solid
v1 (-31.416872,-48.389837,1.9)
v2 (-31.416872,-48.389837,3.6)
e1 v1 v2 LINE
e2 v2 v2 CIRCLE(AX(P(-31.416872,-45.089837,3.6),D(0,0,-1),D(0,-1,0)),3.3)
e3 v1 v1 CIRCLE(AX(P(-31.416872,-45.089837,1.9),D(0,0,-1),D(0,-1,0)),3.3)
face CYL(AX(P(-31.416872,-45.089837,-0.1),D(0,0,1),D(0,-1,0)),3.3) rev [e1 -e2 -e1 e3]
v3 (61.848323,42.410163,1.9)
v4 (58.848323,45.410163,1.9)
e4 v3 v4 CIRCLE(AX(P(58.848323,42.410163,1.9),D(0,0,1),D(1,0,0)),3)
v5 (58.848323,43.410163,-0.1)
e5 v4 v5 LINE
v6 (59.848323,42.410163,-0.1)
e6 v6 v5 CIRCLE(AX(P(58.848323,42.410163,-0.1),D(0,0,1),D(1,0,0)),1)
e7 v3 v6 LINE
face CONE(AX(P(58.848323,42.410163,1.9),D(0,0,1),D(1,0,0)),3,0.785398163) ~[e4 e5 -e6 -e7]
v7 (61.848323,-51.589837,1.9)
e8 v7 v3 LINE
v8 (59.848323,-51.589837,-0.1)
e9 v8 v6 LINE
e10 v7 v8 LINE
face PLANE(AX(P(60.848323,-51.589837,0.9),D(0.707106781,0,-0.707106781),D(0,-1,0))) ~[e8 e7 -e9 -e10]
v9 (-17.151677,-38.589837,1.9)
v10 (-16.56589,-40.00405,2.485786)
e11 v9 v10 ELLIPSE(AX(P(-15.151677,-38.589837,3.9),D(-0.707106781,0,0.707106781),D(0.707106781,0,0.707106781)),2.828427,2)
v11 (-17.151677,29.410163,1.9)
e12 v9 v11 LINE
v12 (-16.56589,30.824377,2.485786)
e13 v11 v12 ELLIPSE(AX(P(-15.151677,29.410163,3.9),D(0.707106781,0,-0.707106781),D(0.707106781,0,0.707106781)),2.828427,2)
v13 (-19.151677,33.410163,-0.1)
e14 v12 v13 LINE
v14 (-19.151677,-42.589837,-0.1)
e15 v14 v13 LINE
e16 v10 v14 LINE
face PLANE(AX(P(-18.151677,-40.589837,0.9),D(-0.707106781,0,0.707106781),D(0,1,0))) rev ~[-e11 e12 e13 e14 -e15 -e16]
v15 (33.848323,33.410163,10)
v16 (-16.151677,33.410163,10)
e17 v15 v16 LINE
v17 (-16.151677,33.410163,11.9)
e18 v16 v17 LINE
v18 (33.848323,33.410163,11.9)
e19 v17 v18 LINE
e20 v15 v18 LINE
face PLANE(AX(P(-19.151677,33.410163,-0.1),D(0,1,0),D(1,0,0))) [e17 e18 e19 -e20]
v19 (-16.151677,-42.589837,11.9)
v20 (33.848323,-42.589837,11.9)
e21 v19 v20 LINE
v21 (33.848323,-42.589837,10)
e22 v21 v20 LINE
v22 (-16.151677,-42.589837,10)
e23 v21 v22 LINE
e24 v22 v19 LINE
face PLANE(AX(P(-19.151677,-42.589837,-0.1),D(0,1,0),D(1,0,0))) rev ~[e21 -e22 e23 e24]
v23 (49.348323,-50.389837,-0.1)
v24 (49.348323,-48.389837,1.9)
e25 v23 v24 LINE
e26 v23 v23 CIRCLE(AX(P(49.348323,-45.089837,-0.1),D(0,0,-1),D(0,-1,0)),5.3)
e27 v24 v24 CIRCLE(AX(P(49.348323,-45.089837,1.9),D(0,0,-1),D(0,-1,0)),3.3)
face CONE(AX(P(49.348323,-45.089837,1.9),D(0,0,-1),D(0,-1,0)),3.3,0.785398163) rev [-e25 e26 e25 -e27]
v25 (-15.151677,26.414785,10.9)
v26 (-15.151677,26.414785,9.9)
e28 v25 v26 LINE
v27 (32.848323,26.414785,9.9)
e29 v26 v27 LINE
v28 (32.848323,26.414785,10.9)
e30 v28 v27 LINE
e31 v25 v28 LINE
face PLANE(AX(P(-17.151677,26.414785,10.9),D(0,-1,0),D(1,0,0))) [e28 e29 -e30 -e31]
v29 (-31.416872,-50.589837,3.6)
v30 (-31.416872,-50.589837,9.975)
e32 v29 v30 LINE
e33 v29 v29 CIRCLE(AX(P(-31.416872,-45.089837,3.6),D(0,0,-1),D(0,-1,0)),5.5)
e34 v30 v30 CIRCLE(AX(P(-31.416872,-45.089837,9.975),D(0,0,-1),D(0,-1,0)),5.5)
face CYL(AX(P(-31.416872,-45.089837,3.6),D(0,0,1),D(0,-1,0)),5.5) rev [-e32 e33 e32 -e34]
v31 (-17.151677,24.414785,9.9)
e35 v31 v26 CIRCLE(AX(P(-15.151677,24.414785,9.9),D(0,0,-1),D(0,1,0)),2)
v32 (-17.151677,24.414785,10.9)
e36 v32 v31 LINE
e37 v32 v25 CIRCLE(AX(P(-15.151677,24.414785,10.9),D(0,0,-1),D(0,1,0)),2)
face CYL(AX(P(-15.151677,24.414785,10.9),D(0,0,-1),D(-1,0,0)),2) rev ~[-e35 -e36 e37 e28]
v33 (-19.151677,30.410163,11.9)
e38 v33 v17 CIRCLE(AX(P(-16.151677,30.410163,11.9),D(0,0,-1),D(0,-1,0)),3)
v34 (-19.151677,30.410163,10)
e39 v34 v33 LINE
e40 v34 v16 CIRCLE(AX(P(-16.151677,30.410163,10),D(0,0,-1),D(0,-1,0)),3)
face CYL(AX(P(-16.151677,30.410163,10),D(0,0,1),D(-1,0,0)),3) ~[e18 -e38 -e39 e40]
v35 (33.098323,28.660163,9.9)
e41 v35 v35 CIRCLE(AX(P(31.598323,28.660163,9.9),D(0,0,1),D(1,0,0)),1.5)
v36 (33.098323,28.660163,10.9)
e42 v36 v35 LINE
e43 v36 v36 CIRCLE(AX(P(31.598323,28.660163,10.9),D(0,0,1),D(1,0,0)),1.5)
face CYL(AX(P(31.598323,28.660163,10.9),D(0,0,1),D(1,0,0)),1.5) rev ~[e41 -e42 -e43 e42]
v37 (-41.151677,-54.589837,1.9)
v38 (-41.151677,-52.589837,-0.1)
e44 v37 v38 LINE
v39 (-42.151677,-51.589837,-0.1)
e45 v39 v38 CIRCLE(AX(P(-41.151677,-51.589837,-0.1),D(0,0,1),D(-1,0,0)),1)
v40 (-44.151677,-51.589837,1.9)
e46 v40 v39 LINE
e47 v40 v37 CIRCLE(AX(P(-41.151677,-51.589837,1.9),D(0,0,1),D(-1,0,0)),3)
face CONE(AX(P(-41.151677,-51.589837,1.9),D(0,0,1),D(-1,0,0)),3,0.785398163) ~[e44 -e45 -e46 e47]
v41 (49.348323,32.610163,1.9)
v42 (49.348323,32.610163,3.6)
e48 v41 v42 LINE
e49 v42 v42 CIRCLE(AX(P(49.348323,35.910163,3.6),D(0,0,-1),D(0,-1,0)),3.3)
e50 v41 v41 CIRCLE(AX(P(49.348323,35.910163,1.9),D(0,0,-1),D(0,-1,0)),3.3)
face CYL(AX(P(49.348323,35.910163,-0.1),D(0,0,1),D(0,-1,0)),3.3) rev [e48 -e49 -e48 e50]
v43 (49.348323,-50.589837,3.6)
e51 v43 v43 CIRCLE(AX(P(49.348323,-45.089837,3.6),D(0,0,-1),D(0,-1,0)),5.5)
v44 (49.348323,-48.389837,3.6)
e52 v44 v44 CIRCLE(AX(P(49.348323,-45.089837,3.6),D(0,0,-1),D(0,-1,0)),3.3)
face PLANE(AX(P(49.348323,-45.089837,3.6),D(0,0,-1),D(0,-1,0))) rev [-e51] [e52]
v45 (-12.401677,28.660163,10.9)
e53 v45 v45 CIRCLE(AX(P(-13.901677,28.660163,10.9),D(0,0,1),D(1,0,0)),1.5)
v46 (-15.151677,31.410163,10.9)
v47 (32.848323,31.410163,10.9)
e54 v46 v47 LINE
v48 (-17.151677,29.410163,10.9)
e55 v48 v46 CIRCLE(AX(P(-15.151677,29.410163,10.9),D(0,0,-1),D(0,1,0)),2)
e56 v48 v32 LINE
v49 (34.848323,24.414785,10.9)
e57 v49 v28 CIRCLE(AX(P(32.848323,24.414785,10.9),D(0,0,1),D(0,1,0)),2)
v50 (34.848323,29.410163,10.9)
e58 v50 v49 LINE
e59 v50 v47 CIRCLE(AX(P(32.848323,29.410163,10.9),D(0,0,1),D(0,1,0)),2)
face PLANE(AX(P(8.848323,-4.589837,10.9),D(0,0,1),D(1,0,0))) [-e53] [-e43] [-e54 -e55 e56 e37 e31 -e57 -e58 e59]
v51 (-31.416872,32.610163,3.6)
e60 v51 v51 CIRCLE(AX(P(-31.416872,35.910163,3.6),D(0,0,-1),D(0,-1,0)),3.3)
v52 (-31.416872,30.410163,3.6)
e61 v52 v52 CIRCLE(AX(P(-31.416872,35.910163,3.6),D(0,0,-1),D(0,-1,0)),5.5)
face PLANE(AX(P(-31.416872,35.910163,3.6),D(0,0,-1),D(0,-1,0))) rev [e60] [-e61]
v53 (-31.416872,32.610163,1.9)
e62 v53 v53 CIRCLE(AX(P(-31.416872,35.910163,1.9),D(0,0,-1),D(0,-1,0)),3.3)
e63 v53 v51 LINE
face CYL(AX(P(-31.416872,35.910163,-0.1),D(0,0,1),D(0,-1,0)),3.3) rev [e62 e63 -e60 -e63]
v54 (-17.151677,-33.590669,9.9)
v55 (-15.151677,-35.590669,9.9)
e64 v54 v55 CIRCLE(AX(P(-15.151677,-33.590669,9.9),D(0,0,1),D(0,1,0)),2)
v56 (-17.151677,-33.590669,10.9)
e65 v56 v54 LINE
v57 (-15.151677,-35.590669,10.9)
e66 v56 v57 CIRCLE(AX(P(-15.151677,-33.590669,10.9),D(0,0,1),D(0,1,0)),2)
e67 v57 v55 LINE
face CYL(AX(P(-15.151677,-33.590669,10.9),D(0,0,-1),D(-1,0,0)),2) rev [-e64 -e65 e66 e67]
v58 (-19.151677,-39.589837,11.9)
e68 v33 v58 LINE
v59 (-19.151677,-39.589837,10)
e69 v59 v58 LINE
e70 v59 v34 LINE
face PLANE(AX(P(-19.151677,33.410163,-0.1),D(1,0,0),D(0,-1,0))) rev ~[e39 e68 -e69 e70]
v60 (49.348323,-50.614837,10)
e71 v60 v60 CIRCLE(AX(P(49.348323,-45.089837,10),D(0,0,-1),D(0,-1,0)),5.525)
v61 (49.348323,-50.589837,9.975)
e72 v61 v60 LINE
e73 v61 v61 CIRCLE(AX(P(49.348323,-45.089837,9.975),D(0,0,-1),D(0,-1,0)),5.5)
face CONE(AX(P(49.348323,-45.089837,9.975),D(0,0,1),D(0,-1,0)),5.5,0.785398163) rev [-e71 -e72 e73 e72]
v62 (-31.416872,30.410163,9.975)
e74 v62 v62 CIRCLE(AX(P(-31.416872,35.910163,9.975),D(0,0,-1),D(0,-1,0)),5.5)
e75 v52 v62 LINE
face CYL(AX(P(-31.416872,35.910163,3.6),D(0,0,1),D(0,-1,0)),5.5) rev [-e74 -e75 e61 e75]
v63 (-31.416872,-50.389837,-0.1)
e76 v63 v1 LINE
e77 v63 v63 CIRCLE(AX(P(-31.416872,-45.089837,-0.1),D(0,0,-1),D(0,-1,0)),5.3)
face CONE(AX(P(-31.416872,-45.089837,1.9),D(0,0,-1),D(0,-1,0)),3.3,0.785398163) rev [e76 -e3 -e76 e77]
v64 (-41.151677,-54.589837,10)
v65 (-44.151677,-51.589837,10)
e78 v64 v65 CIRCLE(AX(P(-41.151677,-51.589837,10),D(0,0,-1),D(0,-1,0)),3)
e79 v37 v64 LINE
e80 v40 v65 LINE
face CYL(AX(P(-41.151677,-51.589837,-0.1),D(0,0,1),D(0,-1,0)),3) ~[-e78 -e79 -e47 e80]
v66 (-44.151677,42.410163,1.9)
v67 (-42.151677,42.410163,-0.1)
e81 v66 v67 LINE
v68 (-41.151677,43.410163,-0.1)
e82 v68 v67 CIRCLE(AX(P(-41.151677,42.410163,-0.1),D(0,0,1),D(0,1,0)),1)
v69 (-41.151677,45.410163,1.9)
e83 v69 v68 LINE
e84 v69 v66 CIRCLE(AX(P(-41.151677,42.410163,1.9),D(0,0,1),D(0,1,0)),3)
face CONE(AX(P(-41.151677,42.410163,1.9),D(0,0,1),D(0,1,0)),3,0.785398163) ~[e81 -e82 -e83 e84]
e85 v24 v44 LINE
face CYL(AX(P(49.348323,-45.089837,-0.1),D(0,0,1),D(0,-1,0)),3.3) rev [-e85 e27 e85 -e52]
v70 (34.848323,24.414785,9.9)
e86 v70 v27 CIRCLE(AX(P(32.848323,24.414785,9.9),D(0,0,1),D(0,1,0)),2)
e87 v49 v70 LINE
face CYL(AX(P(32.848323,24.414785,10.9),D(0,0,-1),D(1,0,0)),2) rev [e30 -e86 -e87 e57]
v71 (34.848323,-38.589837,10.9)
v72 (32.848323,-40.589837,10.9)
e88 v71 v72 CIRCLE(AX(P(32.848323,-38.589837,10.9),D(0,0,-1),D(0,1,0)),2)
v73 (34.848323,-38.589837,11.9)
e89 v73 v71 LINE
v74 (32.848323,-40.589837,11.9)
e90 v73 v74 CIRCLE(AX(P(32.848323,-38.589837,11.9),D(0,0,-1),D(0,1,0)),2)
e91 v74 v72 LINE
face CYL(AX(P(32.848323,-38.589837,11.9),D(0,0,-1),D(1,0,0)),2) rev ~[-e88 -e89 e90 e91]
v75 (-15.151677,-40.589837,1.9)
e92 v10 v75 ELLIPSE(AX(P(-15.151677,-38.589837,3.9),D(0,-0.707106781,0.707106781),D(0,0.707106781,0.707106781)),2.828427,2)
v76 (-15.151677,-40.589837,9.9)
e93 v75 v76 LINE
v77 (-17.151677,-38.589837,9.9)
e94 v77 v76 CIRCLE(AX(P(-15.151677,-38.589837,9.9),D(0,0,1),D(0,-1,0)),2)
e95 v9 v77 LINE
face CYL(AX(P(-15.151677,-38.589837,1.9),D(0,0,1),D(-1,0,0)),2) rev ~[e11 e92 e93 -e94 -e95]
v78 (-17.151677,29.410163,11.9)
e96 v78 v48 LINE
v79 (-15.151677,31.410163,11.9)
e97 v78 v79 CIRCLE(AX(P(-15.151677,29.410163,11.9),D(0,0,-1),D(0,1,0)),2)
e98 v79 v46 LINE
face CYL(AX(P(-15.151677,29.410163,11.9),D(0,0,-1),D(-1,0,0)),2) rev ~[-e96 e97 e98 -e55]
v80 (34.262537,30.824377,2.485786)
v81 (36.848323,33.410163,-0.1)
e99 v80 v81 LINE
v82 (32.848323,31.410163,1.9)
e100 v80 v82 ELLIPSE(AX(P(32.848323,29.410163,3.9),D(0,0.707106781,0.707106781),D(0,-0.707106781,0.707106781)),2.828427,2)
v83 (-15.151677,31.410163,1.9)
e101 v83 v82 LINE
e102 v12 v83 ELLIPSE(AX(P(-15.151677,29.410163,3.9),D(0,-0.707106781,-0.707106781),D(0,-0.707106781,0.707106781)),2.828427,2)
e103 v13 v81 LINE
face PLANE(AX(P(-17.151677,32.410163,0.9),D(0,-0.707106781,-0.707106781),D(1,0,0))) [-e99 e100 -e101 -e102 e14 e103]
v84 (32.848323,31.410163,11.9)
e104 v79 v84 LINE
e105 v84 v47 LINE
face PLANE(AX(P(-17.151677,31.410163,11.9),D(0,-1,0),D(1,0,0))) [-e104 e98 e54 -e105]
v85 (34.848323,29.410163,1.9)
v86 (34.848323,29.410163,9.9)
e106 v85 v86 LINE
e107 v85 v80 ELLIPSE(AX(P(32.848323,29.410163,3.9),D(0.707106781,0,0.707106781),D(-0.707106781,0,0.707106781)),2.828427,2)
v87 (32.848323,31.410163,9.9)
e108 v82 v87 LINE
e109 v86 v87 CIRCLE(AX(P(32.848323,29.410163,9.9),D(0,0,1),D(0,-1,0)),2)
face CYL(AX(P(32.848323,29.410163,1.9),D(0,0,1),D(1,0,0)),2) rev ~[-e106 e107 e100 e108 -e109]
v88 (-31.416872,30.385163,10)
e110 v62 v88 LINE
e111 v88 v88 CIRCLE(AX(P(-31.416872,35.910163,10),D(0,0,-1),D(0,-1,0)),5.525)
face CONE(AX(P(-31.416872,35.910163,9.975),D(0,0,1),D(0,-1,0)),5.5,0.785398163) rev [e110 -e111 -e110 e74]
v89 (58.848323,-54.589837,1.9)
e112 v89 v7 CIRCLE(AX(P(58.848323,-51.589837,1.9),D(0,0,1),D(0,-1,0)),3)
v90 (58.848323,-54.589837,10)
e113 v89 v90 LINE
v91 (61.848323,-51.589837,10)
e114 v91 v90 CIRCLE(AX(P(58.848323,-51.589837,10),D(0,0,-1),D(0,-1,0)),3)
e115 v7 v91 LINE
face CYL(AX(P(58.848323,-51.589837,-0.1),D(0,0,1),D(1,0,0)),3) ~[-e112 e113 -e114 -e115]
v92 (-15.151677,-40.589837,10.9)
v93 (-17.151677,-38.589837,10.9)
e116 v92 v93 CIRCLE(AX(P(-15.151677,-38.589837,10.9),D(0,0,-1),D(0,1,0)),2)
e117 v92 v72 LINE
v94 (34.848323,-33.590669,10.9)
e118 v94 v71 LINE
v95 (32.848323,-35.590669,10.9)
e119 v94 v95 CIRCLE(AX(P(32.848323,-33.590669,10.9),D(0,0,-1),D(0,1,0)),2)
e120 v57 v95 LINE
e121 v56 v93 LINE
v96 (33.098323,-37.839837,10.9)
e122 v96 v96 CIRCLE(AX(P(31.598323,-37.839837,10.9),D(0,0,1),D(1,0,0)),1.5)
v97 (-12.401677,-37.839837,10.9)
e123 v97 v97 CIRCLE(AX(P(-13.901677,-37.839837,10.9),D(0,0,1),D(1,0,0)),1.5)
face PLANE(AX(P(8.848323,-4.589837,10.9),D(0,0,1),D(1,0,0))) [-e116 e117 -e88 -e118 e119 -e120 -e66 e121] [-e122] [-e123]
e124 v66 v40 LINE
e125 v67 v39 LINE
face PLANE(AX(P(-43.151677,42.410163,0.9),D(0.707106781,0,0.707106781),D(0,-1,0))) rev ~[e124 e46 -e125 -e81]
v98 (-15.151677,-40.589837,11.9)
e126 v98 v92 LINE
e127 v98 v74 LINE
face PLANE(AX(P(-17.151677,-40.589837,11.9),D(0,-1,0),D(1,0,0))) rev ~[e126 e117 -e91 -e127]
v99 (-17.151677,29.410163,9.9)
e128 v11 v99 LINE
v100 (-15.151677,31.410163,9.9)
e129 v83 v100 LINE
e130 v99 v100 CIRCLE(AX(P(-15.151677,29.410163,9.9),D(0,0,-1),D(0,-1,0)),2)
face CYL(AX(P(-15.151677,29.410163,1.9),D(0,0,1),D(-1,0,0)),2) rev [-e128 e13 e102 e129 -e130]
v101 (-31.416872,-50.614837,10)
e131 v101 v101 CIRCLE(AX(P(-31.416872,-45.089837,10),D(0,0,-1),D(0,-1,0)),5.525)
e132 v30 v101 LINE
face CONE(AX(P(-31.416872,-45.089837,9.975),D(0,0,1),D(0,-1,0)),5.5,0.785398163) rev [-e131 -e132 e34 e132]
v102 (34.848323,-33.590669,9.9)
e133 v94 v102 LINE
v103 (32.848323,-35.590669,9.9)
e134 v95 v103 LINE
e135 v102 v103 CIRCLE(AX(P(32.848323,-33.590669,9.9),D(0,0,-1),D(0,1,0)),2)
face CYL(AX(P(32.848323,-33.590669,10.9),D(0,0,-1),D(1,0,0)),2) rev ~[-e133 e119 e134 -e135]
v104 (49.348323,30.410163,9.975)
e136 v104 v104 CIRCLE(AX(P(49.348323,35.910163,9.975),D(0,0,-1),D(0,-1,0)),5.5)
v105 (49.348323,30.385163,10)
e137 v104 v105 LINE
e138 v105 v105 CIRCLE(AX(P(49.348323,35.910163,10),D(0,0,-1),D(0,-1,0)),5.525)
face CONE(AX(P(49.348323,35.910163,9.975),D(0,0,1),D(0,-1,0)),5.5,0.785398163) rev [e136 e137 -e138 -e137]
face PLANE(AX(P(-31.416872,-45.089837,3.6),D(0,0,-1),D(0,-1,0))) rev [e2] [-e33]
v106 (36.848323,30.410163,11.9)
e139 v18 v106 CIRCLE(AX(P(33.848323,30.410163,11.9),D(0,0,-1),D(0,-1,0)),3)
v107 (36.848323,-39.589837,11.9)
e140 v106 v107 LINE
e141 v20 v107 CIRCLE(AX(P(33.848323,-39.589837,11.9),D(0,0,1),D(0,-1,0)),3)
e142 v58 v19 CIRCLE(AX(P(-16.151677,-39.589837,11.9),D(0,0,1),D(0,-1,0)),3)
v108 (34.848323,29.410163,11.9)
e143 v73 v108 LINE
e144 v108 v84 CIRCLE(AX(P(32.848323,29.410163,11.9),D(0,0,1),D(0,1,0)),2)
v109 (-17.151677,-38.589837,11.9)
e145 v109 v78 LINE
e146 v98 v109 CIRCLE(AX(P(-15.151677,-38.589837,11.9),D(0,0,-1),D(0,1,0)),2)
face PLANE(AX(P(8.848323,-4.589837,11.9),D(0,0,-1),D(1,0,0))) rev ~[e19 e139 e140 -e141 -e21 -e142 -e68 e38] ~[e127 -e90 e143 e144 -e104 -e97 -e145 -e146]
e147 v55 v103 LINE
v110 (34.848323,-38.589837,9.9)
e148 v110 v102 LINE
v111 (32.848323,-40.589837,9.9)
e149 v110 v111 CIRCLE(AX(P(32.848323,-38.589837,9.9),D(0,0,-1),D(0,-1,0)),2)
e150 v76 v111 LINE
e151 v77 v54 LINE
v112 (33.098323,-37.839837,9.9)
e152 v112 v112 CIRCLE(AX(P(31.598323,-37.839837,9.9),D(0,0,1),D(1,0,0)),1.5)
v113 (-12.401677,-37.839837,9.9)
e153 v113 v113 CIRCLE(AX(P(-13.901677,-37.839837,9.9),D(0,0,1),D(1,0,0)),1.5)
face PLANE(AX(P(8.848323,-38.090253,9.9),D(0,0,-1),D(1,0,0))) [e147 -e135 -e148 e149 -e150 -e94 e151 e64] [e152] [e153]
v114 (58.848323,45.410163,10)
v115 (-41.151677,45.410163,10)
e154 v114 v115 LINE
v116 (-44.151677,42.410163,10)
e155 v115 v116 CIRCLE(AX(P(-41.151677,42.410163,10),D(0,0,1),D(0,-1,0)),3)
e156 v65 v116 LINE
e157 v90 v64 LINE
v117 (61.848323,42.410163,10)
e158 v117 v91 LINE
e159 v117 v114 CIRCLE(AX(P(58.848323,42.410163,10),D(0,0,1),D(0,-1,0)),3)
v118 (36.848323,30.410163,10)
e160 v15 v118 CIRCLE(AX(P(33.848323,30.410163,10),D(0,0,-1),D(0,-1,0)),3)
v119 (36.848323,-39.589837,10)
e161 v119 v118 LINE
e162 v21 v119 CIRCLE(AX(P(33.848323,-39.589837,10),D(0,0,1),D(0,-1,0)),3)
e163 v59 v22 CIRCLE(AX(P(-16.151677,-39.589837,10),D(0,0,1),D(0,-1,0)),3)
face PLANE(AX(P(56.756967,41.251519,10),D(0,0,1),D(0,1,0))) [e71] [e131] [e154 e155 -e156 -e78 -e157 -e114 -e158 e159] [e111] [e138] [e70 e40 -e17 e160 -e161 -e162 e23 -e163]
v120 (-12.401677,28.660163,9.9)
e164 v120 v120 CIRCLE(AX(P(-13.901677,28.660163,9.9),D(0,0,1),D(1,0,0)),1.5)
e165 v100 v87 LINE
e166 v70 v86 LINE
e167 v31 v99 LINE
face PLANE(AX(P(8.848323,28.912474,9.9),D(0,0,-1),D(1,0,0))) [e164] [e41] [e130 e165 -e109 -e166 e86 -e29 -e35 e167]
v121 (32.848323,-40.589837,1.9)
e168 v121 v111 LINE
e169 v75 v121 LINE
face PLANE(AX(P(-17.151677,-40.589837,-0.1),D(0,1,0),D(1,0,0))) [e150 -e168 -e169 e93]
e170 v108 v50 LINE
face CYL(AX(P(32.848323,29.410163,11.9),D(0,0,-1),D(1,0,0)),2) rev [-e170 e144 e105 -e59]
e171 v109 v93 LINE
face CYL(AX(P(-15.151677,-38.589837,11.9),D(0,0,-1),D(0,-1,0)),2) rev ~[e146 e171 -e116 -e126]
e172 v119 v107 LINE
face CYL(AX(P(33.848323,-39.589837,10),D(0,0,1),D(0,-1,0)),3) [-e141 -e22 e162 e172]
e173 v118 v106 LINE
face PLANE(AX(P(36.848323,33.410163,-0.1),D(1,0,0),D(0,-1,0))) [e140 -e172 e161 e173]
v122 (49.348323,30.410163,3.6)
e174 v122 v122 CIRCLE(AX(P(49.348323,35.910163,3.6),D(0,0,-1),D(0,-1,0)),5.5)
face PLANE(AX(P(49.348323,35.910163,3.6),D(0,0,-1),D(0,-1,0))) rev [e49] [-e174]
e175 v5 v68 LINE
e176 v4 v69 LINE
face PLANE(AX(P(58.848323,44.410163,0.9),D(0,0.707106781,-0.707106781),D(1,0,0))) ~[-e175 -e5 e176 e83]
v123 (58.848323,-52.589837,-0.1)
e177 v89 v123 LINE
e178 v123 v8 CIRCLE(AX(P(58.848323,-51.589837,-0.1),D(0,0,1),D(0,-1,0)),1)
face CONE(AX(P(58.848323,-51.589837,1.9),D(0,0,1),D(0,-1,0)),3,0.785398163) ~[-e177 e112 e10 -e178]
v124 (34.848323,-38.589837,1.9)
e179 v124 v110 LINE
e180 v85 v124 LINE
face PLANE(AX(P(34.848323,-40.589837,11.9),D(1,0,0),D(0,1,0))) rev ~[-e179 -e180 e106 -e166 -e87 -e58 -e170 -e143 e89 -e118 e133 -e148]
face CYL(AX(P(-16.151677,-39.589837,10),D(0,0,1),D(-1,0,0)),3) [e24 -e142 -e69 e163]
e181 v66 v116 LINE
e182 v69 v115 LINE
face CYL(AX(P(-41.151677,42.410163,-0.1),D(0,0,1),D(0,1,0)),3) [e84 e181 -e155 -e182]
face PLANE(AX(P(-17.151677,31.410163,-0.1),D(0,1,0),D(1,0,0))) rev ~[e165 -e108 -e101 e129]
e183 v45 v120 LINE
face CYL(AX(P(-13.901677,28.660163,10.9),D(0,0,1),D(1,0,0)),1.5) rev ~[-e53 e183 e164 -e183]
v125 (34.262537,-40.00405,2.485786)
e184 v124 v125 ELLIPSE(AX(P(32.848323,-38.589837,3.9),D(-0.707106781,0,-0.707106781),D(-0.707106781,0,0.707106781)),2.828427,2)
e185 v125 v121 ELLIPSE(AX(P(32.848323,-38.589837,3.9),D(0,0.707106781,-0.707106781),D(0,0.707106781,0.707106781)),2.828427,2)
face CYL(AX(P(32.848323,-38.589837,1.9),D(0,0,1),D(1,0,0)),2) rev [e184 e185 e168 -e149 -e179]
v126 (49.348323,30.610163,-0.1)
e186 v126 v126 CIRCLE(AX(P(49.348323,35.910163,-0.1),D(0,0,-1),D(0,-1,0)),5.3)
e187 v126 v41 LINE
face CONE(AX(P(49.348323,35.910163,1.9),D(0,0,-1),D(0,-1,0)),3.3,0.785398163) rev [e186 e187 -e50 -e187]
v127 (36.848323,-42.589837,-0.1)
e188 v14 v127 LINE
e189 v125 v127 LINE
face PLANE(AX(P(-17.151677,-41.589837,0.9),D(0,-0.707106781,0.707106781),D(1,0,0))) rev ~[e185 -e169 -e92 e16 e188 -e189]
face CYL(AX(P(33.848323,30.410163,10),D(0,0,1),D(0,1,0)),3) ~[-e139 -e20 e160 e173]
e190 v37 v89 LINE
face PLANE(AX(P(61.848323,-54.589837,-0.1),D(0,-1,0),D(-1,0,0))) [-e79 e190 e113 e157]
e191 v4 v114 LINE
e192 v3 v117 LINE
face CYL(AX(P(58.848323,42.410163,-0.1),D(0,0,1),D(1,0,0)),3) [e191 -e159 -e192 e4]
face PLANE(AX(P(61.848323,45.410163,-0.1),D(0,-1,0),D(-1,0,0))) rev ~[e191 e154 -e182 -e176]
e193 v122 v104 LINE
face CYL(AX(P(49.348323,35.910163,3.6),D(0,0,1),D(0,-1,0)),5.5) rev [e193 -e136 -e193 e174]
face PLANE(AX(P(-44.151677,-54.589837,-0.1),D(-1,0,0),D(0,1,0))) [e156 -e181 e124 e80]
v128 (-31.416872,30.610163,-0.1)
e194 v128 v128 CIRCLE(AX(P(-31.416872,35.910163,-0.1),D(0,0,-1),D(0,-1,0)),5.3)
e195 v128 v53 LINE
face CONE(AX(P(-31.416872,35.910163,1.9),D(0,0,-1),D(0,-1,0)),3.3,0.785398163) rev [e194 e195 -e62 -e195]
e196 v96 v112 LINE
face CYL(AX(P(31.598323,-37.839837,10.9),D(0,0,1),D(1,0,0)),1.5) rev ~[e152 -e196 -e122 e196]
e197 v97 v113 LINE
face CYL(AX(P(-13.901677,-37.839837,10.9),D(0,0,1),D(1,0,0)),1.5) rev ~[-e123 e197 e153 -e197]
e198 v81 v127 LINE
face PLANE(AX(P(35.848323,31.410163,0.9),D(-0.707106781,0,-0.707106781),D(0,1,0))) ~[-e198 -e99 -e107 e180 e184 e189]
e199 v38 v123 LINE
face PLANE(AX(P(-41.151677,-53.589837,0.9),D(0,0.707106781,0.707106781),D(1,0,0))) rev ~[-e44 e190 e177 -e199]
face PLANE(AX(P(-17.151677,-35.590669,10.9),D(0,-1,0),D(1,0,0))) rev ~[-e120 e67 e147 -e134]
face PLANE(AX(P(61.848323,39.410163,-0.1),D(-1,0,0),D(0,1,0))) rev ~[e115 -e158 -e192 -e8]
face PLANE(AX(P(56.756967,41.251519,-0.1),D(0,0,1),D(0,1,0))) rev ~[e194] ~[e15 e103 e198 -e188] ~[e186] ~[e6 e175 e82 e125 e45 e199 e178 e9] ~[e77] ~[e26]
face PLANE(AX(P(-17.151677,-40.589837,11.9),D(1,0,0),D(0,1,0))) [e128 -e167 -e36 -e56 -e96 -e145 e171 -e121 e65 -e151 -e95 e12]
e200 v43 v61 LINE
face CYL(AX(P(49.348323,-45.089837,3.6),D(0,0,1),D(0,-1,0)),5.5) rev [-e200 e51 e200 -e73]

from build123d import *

# Parameters (mm, degrees)
BOSS_EXTRUDE3_DEPTH                          = 10
BOSS_EXTRUDE3_DEPTH_BACK                     = 0.1
SKETCH1_W                                    = 100
SKETCH1_H                                    = 106
SKETCH1_W_2                                  = 76
SKETCH1_H_2                                  = 56
CBORE_FOR_M6_HEX_SOCKET_HEAD_CAP_SCR_2_COUNT = 2
CBORE_FOR_M6_HEX_SOCKET_HEAD_CAP_SCR_2_PITCH = 81
CBORE_FOR_M6_HEX_SOCKET_HEAD_CAP_SCR_3_COUNT = 2
CBORE_FOR_M6_HEX_SOCKET_HEAD_CAP_SCR_3_PITCH = 114.385386776
CBORE_FOR_M6_HEX_SOCKET_HEAD_CAP_SCR_4_COUNT = 2
CBORE_FOR_M6_HEX_SOCKET_HEAD_CAP_SCR_4_PITCH = 80.765194904
SKETCH7_W                                    = 56
SKETCH7_H                                    = 76
BOSS_EXTRUDE4_DEPTH                          = 12
SKETCH8_W                                    = 52
SKETCH8_H                                    = 72
BOSS_EXTRUDE5_DEPTH                          = 1
SKETCH9_W                                    = 52
SKETCH9_H                                    = 72
CUT_EXTRUDE1_DEPTH                           = 1
SKETCH10_W                                   = 52
SKETCH10_H                                   = 62.005454301
CUT_EXTRUDE2_DEPTH                           = 11
SKETCH11_W                                   = 52
SKETCH11_H                                   = 4.999168043
SKETCH11_H_2                                 = 4.995377656
CUT_EXTRUDE3_DEPTH                           = 10
SKETCH12_R                                   = 1.5
CUT_EXTRUDE4_DEPTH                           = 2
SKETCH12_3_R                                 = 1.5
CUT_EXTRUDE5_DEPTH                           = 2
SKETCH14_R                                   = 1.5
CUT_EXTRUDE6_DEPTH                           = 2
SKETCH15_R                                   = 1.5
CUT_EXTRUDE7_DEPTH                           = 2
FILLET2_R                                    = 3
CHAMFER1_SIZE                                = 2
FILLET3_R                                    = 2
FILLET4_R                                    = 2


with BuildPart() as part:
    # Sketch1 → Boss-Extrude3 (new, two sides: drawn at the far end of the back side and taken through both)
    with BuildSketch(Plane(origin=(0, 0, 0), x_dir=(0, 1, 0), z_dir=(0, 0, 1)).offset(-BOSS_EXTRUDE3_DEPTH_BACK)):
        with Locations((-4.589836902, -8.848323211)):
            Rectangle(SKETCH1_W, SKETCH1_H)
        with Locations((-4.589836902, -8.848323211)):
            Rectangle(SKETCH1_W_2, SKETCH1_H_2, mode=Mode.SUBTRACT)
    extrude(amount=BOSS_EXTRUDE3_DEPTH + BOSS_EXTRUDE3_DEPTH_BACK)

    # Sketch6 → CBORE for M6 Hex Socket Head Cap Screw2 (revolve, cut)
    with BuildSketch(Plane(origin=(49.348323211, -45.089836902, 10), x_dir=(0, -1, 0), z_dir=(1, 0, 0))):
        Polygon((0, 0), (0, 10.1), (3.3, 10.1), (3.3, 6.4), (5.5, 6.4), (5.5, 0.025), (5.525, 0), align=None)
    cbore_for_m6_hex_socket_head_cap_screw2 = revolve(axis=Axis((49.348323211, -45.089836902, 16.35), (0, 0, -1)), mode=Mode.SUBTRACT)

    # CBORE for M6 Hex Socket Head Cap Scr 2: CBORE for M6 Hex Socket Head Cap Screw2 ×2
    with Locations(*[(0, i * CBORE_FOR_M6_HEX_SOCKET_HEAD_CAP_SCR_2_PITCH, 0) for i in range(1, CBORE_FOR_M6_HEX_SOCKET_HEAD_CAP_SCR_2_COUNT)]):
        add(cbore_for_m6_hex_socket_head_cap_screw2, mode=Mode.SUBTRACT)

    # CBORE for M6 Hex Socket Head Cap Scr 3: CBORE for M6 Hex Socket Head Cap Screw2 ×2
    with Locations(*[Vector(-0.7060796591298035, 0.7081324134391396, 0) * (i * CBORE_FOR_M6_HEX_SOCKET_HEAD_CAP_SCR_3_PITCH) for i in range(1, CBORE_FOR_M6_HEX_SOCKET_HEAD_CAP_SCR_3_COUNT)]):
        add(cbore_for_m6_hex_socket_head_cap_screw2, mode=Mode.SUBTRACT)

    # CBORE for M6 Hex Socket Head Cap Scr 4: CBORE for M6 Hex Socket Head Cap Screw2 ×2
    with Locations(*[(-i * CBORE_FOR_M6_HEX_SOCKET_HEAD_CAP_SCR_4_PITCH, 0, 0) for i in range(1, CBORE_FOR_M6_HEX_SOCKET_HEAD_CAP_SCR_4_COUNT)]):
        add(cbore_for_m6_hex_socket_head_cap_screw2, mode=Mode.SUBTRACT)

    # Sketch7 → Boss-Extrude4 (add)
    with BuildSketch(Plane(origin=(0, 0, -0.1), x_dir=(1, 0, 0), z_dir=(0, 0, -1))):
        with Locations((8.848323211, 4.589836902)):
            Rectangle(SKETCH7_W, SKETCH7_H)
    extrude(amount=-BOSS_EXTRUDE4_DEPTH)

    # Sketch8 → Boss-Extrude5 (add)
    with BuildSketch(Plane.XY.offset(11.9)):
        with Locations((8.848323211, -4.589836902)):
            Rectangle(SKETCH8_W, SKETCH8_H)
    extrude(amount=-BOSS_EXTRUDE5_DEPTH)

    # Sketch9 → Cut-Extrude1 (cut)
    with BuildSketch(Plane.XY.offset(11.9)):
        with Locations((8.848323211, -4.589836902)):
            Rectangle(SKETCH9_W, SKETCH9_H)
    extrude(amount=-CUT_EXTRUDE1_DEPTH, mode=Mode.SUBTRACT)

    # Sketch10 → Cut-Extrude2 (cut)
    with BuildSketch(Plane.XY.offset(10.9)):
        with Locations((8.848323211, -4.587941709)):
            Rectangle(SKETCH10_W, SKETCH10_H)
    extrude(amount=-CUT_EXTRUDE2_DEPTH, mode=Mode.SUBTRACT)

    # Sketch11 → Cut-Extrude3 (cut)
    with BuildSketch(Plane(origin=(0, 0, -0.1), x_dir=(1, 0, 0), z_dir=(0, 0, -1))):
        with Locations((8.848323211, 38.090252881)):
            Rectangle(SKETCH11_W, SKETCH11_H)
        with Locations((8.848323211, -28.91247427)):
            Rectangle(SKETCH11_W, SKETCH11_H_2)
    extrude(amount=-CUT_EXTRUDE3_DEPTH, mode=Mode.SUBTRACT)

    # Sketch12 → Cut-Extrude4 (cut)
    with BuildSketch(Plane.XY.offset(10.9)):
        with Locations((-13.901676789, 28.660163098)):
            Circle(SKETCH12_R)
    extrude(amount=-CUT_EXTRUDE4_DEPTH, mode=Mode.SUBTRACT)

    # Sketch12<3> → Cut-Extrude5 (cut)
    with BuildSketch(Plane.XY.offset(10.9)):
        with Locations((31.598323211, 28.660163098)):
            Circle(SKETCH12_3_R)
    extrude(amount=-CUT_EXTRUDE5_DEPTH, mode=Mode.SUBTRACT)

    # Sketch14 → Cut-Extrude6 (cut)
    with BuildSketch(Plane.XY.offset(10.9)):
        with Locations((-13.901676789, -37.839836902)):
            Circle(SKETCH14_R)
    extrude(amount=-CUT_EXTRUDE6_DEPTH, mode=Mode.SUBTRACT)

    # Sketch15 → Cut-Extrude7 (cut)
    with BuildSketch(Plane.XY.offset(10.9)):
        with Locations((31.598323211, -37.839836902)):
            Circle(SKETCH15_R)
    extrude(amount=-CUT_EXTRUDE7_DEPTH, mode=Mode.SUBTRACT)

    # Fillet2
    fillet2_edges = [part.edges().sort_by_distance(p)[0] for p in [
        (-44.151676789, 45.410163098, 4.95),
        (-19.151676789, 33.410163098, 10.95),
        (36.848323211, 33.410163098, 10.95),
        (61.848323211, 45.410163098, 4.95),
        (36.848323211, -42.589836902, 10.95),
        (61.848323211, -54.589836902, 4.95),
        (-44.151676789, -54.589836902, 4.95),
        (-19.151676789, -42.589836902, 10.95),
    ]]
    fillet(fillet2_edges, radius=FILLET2_R)

    # Chamfer1
    chamfer1_edges = [part.edges().sort_by_distance(p)[0] for p in [
        (8.848323211, 31.410163098, -0.1),
        (34.848323211, -4.589836902, -0.1),
        (8.848323211, -40.589836902, -0.1),
        (-17.151676789, -4.589836902, -0.1),
        (49.348323211, 39.210163098, -0.1),
        (-31.416871693, 39.210163098, -0.1),
        (-31.416871693, -41.789836902, -0.1),
        (49.348323211, -41.789836902, -0.1),
        (-43.272997132, -53.711157246, -0.1),
        (8.848323211, -54.589836902, -0.1),
        (60.969643555, -53.711157246, -0.1),
        (61.848323211, -4.589836902, -0.1),
        (60.969643555, 44.531483441, -0.1),
        (8.848323211, 45.410163098, -0.1),
        (-43.272997132, 44.531483441, -0.1),
        (-44.151676789, -4.589836902, -0.1),
    ]]
    chamfer(chamfer1_edges, length=CHAMFER1_SIZE)

    # Fillet3
    fillet3_edges = [part.edges().sort_by_distance(p)[0] for p in [
        (34.848323211, -35.590668859, 10.4),
    ]]
    fillet(fillet3_edges, radius=FILLET3_R)

    # Fillet4
    fillet4_edges = [part.edges().sort_by_distance(p)[0] for p in [
        (-17.151676789, 26.414785442, 10.4),
        (-17.151676789, 31.410163098, 5.9),
        (-17.151676789, 31.410163098, 11.4),
        (34.848323211, 31.410163098, 5.9),
        (34.848323211, 26.414785442, 10.4),
        (34.848323211, 31.410163098, 11.4),
        (-17.151676789, -40.589836902, 5.9),
        (-17.151676789, -40.589836902, 11.4),
        (-17.151676789, -35.590668859, 10.4),
        (34.848323211, -40.589836902, 5.9),
        (34.848323211, -40.589836902, 11.4),
    ]]
    fillet(fillet4_edges, radius=FILLET4_R)


solid = part.part
